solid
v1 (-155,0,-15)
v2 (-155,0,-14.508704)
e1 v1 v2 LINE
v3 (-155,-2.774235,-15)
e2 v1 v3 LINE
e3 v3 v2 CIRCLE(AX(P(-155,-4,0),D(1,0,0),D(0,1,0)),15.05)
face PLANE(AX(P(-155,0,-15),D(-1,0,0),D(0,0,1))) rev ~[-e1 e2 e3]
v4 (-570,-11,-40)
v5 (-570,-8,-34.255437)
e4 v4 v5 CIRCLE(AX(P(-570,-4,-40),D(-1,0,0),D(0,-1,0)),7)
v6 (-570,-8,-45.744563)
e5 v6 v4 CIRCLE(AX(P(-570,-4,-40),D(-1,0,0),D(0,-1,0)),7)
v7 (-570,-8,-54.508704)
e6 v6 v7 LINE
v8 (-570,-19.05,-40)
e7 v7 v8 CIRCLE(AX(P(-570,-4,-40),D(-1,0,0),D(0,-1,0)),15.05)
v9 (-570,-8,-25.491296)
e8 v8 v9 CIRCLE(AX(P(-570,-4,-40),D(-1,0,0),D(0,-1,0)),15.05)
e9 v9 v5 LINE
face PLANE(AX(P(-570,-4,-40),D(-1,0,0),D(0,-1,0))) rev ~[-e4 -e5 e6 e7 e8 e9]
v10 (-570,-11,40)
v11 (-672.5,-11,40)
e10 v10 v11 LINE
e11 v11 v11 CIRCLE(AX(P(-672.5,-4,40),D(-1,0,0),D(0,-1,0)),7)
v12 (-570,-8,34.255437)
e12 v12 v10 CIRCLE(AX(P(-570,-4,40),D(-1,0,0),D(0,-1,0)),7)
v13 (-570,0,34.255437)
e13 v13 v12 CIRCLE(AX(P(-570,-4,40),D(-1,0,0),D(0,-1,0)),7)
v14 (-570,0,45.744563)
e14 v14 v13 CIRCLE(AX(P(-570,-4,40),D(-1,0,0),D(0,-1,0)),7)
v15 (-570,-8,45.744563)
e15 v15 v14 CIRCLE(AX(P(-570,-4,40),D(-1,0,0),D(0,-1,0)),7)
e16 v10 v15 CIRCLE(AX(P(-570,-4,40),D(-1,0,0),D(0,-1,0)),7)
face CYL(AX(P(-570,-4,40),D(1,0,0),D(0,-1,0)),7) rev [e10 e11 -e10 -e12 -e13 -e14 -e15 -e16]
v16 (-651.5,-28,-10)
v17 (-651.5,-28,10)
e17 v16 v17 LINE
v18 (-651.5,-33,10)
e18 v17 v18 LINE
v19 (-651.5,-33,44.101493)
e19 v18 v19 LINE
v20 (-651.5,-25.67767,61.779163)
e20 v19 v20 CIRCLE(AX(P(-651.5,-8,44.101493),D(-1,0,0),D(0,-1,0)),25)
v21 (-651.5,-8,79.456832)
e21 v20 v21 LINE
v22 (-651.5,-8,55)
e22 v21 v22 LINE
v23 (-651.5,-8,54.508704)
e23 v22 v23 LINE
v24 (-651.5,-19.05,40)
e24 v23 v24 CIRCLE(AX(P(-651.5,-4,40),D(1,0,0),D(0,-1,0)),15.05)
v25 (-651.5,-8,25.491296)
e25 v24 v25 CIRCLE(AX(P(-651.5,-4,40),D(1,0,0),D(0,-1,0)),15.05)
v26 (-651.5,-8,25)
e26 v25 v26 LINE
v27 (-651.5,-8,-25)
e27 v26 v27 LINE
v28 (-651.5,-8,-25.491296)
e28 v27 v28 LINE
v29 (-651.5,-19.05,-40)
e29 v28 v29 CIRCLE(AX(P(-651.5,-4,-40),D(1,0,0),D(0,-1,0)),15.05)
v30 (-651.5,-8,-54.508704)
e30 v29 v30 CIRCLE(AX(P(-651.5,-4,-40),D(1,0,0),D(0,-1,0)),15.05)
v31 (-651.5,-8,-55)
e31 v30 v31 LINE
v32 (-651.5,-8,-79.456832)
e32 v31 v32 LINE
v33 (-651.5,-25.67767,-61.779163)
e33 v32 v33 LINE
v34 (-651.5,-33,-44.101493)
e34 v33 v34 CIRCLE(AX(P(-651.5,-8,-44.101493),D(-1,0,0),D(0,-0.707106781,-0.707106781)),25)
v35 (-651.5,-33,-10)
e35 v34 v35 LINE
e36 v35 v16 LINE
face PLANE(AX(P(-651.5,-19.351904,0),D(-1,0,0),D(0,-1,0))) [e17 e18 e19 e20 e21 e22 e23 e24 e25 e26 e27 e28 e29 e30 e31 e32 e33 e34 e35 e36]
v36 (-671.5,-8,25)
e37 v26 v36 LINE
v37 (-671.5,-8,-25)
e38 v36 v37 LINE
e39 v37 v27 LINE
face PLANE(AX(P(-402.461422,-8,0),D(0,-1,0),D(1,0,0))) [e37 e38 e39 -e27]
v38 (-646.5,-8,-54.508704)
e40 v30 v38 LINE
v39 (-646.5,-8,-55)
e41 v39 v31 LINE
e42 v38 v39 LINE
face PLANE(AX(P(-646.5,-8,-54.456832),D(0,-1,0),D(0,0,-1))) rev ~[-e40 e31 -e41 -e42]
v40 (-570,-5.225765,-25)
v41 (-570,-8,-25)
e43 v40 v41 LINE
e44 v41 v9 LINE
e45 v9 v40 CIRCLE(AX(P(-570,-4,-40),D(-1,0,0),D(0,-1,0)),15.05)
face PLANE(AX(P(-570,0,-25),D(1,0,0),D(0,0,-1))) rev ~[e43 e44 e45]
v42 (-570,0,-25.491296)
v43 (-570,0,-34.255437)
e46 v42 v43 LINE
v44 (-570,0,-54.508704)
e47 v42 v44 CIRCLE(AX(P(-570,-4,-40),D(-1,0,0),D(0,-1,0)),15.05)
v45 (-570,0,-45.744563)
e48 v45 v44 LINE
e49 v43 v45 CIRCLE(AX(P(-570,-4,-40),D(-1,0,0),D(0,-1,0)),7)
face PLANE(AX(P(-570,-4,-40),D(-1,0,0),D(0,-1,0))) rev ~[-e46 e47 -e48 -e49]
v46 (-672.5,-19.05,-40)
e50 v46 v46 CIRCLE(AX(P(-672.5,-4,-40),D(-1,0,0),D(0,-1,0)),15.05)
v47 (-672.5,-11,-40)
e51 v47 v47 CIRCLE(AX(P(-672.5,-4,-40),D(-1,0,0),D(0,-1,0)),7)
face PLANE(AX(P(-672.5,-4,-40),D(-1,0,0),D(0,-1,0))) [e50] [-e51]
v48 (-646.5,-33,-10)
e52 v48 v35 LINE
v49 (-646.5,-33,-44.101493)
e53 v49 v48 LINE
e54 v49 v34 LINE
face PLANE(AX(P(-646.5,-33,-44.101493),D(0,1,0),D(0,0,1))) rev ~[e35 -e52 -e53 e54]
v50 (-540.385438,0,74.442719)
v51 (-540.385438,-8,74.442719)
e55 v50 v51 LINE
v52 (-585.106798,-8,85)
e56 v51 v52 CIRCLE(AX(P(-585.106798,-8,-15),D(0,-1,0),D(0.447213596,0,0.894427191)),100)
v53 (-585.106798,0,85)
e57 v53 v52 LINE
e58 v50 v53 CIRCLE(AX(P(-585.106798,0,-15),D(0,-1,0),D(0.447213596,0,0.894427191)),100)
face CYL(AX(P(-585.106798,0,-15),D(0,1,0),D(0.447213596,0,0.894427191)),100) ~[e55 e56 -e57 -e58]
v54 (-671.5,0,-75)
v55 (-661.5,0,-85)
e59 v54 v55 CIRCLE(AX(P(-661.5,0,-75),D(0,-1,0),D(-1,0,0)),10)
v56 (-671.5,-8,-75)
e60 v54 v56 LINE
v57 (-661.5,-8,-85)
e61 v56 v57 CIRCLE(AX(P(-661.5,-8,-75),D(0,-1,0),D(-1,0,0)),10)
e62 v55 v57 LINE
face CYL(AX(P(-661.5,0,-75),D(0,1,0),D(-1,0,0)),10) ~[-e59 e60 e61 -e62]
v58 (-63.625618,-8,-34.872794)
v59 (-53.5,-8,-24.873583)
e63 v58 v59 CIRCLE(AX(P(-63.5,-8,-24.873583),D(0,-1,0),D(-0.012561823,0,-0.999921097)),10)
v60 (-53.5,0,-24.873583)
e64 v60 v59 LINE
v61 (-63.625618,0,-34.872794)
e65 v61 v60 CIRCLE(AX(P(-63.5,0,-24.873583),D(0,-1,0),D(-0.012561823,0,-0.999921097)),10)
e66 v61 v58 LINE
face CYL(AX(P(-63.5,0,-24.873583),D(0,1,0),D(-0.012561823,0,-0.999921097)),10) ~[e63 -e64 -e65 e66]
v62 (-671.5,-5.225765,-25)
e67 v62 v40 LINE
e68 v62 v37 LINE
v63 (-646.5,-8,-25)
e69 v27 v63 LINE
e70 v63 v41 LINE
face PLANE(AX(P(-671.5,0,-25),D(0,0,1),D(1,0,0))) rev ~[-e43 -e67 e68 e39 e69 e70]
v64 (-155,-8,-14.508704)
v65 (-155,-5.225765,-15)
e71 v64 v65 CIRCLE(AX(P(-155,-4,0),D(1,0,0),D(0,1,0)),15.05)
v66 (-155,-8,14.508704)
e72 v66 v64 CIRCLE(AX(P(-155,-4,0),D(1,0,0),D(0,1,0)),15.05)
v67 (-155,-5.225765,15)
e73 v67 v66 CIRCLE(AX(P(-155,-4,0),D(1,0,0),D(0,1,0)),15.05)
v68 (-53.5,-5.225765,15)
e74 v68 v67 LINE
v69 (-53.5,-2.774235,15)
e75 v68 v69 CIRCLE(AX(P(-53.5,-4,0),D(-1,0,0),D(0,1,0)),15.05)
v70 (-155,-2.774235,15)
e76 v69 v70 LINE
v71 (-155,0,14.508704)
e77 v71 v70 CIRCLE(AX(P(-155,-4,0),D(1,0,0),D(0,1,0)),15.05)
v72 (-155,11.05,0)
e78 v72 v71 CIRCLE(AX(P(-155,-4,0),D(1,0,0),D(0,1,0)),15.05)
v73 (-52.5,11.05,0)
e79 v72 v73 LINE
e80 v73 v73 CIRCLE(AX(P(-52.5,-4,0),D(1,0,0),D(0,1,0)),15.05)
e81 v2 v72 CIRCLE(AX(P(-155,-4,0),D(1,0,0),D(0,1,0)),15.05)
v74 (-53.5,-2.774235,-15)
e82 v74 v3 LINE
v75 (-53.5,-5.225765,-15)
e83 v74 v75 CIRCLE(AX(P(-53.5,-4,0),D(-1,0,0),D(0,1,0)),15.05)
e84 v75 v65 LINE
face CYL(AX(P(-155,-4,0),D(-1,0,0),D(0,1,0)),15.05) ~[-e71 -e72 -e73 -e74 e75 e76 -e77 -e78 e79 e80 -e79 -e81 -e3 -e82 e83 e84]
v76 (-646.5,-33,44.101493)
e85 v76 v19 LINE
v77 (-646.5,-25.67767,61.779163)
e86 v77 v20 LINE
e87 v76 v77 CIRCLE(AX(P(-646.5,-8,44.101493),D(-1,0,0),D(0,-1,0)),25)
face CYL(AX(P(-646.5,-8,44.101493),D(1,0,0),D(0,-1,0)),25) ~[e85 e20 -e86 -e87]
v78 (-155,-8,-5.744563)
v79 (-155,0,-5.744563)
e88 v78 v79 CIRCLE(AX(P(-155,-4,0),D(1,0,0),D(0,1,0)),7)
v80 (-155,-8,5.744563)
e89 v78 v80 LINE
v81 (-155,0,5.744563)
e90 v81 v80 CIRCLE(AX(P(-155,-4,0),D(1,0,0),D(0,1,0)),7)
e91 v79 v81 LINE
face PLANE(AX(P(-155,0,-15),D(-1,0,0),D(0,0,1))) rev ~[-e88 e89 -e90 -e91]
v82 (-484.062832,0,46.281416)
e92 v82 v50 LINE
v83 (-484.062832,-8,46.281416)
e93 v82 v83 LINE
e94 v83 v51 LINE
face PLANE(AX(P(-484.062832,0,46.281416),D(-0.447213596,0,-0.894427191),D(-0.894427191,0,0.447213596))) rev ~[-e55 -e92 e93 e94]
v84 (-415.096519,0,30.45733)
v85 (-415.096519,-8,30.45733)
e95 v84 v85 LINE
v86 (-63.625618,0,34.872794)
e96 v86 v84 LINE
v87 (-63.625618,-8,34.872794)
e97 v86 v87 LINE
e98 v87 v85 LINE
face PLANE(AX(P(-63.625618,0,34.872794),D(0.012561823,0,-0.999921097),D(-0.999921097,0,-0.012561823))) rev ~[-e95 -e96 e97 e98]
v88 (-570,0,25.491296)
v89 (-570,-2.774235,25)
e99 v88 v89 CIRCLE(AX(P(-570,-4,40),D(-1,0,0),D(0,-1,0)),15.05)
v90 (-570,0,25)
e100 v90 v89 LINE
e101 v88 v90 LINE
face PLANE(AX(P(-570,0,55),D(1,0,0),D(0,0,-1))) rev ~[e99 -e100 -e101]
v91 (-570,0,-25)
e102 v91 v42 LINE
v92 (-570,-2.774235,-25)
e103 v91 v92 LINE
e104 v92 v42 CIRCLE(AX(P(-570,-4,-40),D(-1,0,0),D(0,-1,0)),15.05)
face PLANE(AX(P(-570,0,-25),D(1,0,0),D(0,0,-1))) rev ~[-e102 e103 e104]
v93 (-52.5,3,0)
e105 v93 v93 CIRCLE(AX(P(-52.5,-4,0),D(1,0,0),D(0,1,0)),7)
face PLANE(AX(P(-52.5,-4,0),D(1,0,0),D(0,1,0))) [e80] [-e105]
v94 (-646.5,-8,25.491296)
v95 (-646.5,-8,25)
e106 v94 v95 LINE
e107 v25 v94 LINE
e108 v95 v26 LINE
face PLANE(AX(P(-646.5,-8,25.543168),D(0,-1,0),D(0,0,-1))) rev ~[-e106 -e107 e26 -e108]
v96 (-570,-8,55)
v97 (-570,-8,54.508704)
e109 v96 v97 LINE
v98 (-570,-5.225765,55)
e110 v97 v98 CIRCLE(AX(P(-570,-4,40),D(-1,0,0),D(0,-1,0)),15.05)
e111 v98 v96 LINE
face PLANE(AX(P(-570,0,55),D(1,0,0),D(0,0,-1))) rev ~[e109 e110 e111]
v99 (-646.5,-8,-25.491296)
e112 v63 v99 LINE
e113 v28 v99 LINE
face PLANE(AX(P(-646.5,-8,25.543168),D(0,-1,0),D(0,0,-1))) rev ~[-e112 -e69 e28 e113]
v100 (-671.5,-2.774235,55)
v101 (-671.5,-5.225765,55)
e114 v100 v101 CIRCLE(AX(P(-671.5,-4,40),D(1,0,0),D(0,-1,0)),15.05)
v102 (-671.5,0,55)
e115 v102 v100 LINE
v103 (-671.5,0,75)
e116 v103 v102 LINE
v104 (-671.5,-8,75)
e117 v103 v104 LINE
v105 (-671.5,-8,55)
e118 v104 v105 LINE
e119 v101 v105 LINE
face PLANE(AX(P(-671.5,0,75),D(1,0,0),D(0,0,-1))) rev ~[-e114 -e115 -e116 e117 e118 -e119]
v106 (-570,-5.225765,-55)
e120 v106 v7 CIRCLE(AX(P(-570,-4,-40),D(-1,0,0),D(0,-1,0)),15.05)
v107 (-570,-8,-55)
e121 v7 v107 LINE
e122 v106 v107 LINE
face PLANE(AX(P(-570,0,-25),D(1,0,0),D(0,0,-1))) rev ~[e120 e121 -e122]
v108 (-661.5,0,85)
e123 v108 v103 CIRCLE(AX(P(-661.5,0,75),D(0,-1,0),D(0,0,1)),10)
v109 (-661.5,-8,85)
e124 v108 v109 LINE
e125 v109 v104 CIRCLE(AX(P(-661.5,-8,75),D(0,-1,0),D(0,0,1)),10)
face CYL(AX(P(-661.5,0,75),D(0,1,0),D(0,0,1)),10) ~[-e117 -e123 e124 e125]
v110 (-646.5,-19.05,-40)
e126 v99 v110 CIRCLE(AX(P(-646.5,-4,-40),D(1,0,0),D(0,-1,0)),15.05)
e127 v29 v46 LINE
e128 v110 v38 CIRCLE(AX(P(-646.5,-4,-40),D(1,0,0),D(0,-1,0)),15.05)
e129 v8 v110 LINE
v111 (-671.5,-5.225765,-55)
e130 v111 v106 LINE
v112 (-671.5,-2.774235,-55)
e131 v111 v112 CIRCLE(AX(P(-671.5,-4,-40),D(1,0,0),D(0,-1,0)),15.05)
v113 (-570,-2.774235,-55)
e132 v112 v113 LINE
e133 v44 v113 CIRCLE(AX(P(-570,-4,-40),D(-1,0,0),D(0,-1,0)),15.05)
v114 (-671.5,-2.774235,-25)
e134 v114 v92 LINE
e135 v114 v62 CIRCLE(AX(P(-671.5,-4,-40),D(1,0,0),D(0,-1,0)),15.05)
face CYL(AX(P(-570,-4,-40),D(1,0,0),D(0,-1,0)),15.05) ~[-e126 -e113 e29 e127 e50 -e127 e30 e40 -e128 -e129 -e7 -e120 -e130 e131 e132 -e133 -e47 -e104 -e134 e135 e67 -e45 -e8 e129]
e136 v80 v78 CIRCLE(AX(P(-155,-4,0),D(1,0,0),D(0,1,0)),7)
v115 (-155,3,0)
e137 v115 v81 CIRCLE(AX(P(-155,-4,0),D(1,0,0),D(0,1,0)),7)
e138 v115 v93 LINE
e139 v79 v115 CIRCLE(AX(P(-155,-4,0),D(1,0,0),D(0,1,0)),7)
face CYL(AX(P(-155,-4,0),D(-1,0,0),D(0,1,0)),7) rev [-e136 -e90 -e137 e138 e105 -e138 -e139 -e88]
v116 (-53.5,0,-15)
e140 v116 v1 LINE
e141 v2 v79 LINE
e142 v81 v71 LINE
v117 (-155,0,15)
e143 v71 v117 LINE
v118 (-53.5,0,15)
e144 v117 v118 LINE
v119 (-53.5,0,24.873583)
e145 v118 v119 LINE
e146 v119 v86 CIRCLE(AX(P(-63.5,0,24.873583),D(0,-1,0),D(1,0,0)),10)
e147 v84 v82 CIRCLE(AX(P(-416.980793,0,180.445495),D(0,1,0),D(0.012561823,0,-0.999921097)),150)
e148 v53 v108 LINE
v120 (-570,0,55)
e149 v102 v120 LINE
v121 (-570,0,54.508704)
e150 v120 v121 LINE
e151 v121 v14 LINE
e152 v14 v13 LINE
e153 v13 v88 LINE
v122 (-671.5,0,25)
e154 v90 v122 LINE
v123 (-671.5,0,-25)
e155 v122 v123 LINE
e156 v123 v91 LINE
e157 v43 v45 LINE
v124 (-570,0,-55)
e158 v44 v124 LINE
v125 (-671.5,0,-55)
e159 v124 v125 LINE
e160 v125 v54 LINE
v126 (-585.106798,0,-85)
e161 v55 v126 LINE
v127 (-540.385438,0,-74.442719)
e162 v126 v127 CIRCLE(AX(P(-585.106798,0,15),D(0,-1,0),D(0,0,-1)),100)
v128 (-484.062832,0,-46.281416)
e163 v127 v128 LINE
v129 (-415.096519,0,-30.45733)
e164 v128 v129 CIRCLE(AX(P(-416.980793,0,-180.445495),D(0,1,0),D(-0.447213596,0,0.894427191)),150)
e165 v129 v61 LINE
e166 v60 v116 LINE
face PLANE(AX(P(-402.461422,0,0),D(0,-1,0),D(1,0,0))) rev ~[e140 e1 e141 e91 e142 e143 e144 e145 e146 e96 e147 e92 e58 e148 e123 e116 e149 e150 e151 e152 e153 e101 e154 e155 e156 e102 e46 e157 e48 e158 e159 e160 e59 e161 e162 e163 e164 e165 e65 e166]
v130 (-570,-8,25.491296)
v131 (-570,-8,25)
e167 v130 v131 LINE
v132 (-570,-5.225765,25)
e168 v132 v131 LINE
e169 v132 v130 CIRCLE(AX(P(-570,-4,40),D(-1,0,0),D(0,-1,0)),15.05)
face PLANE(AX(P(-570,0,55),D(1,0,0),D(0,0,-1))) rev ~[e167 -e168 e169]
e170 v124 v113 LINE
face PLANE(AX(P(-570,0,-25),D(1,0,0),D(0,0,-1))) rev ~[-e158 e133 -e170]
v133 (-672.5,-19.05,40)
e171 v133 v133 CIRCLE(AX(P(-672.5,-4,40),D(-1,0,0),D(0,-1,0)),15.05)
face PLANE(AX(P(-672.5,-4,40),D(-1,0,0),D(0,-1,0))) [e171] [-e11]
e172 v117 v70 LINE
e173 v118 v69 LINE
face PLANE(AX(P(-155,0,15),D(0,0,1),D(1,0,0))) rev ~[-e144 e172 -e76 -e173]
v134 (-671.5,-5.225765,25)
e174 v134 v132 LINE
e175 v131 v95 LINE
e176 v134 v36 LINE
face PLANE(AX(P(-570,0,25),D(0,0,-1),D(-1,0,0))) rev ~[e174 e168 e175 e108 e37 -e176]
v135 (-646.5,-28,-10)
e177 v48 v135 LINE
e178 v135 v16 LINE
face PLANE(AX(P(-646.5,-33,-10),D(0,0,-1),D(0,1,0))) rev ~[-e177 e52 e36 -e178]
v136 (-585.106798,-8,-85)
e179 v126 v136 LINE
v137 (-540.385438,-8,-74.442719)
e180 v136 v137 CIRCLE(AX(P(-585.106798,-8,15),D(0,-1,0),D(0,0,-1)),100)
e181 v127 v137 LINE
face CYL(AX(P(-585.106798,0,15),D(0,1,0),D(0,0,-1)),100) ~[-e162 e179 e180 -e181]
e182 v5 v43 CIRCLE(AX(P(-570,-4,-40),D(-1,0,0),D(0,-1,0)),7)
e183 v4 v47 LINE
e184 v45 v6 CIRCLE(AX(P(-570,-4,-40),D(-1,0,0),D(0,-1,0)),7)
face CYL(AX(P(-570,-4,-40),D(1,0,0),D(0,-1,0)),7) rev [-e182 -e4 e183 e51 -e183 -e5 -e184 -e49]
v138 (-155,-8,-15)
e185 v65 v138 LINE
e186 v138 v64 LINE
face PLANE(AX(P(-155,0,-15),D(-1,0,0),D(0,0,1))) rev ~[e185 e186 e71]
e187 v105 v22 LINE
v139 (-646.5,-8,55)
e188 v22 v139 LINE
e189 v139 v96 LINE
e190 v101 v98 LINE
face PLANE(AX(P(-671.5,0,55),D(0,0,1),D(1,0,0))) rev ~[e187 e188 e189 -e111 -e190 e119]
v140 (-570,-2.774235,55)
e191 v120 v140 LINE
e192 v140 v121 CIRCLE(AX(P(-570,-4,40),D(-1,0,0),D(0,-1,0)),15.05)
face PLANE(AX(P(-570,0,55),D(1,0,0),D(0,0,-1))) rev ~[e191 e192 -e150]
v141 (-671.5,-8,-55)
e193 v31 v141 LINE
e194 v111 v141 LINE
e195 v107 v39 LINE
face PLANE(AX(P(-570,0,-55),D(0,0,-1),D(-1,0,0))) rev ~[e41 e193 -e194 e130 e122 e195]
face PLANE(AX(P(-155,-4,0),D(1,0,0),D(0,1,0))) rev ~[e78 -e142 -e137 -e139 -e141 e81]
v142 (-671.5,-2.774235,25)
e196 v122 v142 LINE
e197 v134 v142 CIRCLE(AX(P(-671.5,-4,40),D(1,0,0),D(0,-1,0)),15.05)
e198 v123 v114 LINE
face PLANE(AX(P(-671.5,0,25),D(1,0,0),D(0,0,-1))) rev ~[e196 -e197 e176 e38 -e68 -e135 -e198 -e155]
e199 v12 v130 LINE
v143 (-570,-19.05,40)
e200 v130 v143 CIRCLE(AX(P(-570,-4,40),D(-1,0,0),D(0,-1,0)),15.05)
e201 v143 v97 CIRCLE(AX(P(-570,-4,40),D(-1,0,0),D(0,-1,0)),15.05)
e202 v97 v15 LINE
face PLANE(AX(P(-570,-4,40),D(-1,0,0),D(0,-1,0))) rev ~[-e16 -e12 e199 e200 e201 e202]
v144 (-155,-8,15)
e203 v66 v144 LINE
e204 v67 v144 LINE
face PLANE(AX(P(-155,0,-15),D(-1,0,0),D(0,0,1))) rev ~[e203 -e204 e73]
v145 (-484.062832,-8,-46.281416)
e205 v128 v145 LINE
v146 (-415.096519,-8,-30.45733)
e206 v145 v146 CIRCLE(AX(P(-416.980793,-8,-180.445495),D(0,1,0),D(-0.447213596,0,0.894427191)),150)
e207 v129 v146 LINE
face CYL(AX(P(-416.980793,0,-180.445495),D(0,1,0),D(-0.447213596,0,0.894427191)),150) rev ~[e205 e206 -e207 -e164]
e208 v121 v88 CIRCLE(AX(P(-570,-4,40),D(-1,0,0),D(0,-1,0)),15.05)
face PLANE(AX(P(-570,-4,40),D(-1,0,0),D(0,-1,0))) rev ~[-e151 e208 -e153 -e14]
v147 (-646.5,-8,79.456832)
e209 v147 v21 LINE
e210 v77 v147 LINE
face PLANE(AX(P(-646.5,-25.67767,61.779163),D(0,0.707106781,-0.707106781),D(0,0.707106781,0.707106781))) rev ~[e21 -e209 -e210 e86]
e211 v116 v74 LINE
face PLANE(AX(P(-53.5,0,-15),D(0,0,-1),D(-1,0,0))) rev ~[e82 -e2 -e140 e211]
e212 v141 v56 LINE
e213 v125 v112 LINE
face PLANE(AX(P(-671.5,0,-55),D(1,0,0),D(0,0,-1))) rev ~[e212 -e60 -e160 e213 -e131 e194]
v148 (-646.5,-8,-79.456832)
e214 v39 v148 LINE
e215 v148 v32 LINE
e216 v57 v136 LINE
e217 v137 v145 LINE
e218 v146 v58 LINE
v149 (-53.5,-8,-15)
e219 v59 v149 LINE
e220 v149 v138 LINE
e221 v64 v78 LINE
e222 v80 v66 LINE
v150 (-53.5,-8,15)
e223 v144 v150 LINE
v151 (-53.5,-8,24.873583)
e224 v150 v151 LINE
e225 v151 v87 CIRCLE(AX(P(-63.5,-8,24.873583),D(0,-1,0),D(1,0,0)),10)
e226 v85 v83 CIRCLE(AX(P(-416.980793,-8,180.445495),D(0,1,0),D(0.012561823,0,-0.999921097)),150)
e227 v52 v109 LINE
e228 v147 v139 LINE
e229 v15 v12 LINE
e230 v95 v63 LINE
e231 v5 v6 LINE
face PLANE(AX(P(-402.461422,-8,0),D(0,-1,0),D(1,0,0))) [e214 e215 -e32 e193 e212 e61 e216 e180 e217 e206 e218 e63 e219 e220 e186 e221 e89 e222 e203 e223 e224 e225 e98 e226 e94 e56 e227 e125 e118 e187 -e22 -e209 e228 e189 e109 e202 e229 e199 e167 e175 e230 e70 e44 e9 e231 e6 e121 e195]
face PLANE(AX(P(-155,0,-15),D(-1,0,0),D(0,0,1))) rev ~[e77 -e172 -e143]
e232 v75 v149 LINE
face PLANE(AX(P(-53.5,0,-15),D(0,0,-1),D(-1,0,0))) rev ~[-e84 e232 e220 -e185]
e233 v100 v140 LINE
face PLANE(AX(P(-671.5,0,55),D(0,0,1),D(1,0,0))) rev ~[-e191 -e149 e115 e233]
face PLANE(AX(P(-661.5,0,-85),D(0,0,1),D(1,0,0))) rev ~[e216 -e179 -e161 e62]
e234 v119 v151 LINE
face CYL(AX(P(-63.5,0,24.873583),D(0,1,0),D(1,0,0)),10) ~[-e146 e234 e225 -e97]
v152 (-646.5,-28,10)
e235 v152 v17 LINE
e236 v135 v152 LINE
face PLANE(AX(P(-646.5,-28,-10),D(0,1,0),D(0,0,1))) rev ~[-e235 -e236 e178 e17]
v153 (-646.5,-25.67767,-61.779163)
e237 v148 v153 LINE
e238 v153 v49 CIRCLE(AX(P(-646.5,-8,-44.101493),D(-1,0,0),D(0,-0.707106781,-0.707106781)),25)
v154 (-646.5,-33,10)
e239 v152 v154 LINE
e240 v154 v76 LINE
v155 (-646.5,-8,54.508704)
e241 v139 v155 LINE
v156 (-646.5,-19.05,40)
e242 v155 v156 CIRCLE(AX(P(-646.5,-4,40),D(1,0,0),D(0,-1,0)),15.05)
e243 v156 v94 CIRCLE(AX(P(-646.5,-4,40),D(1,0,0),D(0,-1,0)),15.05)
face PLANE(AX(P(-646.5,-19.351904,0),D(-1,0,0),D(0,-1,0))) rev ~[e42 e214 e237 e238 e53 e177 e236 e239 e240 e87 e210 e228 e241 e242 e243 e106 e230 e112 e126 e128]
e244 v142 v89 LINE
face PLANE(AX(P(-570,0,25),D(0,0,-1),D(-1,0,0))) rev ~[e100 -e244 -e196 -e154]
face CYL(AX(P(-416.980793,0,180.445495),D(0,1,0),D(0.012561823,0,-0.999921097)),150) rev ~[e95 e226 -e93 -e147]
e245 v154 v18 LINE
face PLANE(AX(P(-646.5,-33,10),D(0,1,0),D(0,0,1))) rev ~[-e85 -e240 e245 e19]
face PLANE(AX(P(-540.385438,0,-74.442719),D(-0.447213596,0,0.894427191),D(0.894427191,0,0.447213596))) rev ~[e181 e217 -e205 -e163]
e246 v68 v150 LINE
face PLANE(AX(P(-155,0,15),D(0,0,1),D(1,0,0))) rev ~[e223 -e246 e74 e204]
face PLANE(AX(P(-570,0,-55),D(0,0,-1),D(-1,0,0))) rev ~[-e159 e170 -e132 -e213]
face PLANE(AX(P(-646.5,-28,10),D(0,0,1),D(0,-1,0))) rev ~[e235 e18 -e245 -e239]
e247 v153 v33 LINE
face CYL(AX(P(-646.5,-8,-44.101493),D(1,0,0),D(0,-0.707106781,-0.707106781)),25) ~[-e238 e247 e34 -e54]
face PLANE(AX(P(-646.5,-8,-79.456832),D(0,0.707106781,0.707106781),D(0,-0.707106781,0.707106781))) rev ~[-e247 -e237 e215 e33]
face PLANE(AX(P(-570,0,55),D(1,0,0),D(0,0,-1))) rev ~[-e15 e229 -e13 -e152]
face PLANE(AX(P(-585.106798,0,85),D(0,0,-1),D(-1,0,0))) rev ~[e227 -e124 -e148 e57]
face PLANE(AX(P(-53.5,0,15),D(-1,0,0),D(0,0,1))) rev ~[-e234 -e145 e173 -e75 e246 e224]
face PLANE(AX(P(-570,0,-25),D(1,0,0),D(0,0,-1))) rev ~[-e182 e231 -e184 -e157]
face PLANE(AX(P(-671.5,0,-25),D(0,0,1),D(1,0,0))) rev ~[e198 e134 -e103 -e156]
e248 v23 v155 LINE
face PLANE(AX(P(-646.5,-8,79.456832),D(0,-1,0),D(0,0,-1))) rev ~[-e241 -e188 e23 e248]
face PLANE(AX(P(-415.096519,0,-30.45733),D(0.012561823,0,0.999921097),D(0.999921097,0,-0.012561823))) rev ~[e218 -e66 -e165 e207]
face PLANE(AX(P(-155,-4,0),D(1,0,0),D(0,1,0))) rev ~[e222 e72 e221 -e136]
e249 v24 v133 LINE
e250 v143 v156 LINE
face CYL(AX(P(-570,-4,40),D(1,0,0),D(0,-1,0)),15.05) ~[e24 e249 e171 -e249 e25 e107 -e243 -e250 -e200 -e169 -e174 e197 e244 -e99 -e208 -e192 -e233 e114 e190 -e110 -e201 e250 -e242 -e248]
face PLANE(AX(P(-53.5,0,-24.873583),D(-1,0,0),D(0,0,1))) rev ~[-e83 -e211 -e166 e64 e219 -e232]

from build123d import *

# Parameters (mm, degrees)
F2_DEPTH = 8
F3_R     = 15.05
F3_R_2   = 7
F4_DEPTH = 102.5
F5_R     = 15.05
F5_R_2   = 7
F6_DEPTH = 102.5
F9_DEPTH = 5


with BuildPart() as f2:
    # F1 (on Front) → F2 (new body)
    with BuildSketch(Plane.XZ):
        with BuildLine():
            Line((-155, 15), (-53.5, 15))
            Line((-53.5, 15), (-53.5, 24.8735827689))
            ThreePointArc((-53.5, 24.8735827689), (-56.4734852979, 31.9889247243), (-63.6256182283, 34.8727937409))
            Line((-63.6256182283, 34.8727937409), (-415.0965194239, 30.457330158))
            ThreePointArc((-415.0965194239, 30.457330158), (-450.5260994272, 34.2445631167), (-484.0628321732, 46.2814160866))
            Line((-484.0628321732, 46.2814160866), (-540.3854382, 74.4427191))
            ThreePointArc((-540.3854382, 74.4427191), (-562.1315056952, 82.3248989468), (-585.10679775, 85))
            Line((-585.10679775, 85), (-661.5, 85))
            ThreePointArc((-661.5, 85), (-668.5710678119, 82.0710678119), (-671.5, 75))
            Line((-671.5, 75), (-671.5, 55))
            Line((-671.5, 55), (-570, 55))
            Line((-570, 55), (-570, 25))
            Line((-570, 25), (-671.5, 25))
            Line((-671.5, 25), (-671.5, -25))
            Line((-671.5, -25), (-570, -25))
            Line((-570, -25), (-570, -55))
            Line((-570, -55), (-671.5, -55))
            Line((-671.5, -55), (-671.5, -75))
            ThreePointArc((-671.5, -75), (-668.5710678119, -82.0710678119), (-661.5, -85))
            Line((-661.5, -85), (-585.10679775, -85))
            ThreePointArc((-585.10679775, -85), (-562.1315056952, -82.3248989468), (-540.3854382, -74.4427191))
            Line((-540.3854382, -74.4427191), (-484.0628321732, -46.2814160866))
            ThreePointArc((-484.0628321732, -46.2814160866), (-450.5260994272, -34.2445631167), (-415.0965194239, -30.457330158))
            Line((-415.0965194239, -30.457330158), (-63.6256182283, -34.8727937409))
            ThreePointArc((-63.6256182283, -34.8727937409), (-56.4734852979, -31.9889247243), (-53.5, -24.8735827689))
            Line((-53.5, -24.8735827689), (-53.5, -15))
            Line((-53.5, -15), (-155, -15))
            Line((-155, -15), (-155, 15))
        make_face()
    extrude(amount=F2_DEPTH)

    # F3 (on face) → F4 (join)
    with BuildSketch(Plane.YZ.offset(-155)):
        with Locations((-4, 0)):
            Circle(F3_R)
        with Locations((-4, 0)):
            Circle(F3_R_2, mode=Mode.SUBTRACT)
    extrude(amount=F4_DEPTH)

    # F5 (on face) → F6 (join)
    with BuildSketch(Plane(origin=(-570, 0, 0), x_dir=(0, -1, 0), z_dir=(-1, 0, 0))):
        with Locations((4, 40)):
            Circle(F5_R)
        with Locations((4, 40)):
            Circle(F5_R_2, mode=Mode.SUBTRACT)
        with Locations((4, -40)):
            Circle(F5_R)
        with Locations((4, -40)):
            Circle(F5_R_2, mode=Mode.SUBTRACT)
    extrude(amount=F6_DEPTH)

    # F8 (on offset) → F9 (join)
    with BuildSketch(Plane(origin=(-646.5, 0, 0), x_dir=(0, -1, 0), z_dir=(-1, 0, 0))):
        with BuildLine():
            Line((25.6776695297, 61.7791627651), (8, 79.4568322948))
            Line((8, 79.4568322948), (8, 54.4568322948))
            ThreePointArc((8, 54.4568322948), (19, 40), (8, 25.5431677052))
            Line((8, 25.5431677052), (8, -25.5431677052))
            ThreePointArc((8, -25.5431677052), (19, -40), (8, -54.4568322948))
            Line((8, -54.4568322948), (8, -79.4568322948))
            Line((8, -79.4568322948), (25.6776695297, -61.7791627651))
            ThreePointArc((25.6776695297, -61.7791627651), (31.0969883128, -53.6685790446), (33, -44.1014932355))
            Line((33, -44.1014932355), (33, -10))
            Line((33, -10), (28, -10))
            Line((28, -10), (28, 10))
            Line((28, 10), (33, 10))
            Line((33, 10), (33, 44.1014932355))
            ThreePointArc((33, 44.1014932355), (31.0969883128, 53.6685790446), (25.6776695297, 61.7791627651))
        make_face()
    extrude(amount=F9_DEPTH)


solid = f2.part
